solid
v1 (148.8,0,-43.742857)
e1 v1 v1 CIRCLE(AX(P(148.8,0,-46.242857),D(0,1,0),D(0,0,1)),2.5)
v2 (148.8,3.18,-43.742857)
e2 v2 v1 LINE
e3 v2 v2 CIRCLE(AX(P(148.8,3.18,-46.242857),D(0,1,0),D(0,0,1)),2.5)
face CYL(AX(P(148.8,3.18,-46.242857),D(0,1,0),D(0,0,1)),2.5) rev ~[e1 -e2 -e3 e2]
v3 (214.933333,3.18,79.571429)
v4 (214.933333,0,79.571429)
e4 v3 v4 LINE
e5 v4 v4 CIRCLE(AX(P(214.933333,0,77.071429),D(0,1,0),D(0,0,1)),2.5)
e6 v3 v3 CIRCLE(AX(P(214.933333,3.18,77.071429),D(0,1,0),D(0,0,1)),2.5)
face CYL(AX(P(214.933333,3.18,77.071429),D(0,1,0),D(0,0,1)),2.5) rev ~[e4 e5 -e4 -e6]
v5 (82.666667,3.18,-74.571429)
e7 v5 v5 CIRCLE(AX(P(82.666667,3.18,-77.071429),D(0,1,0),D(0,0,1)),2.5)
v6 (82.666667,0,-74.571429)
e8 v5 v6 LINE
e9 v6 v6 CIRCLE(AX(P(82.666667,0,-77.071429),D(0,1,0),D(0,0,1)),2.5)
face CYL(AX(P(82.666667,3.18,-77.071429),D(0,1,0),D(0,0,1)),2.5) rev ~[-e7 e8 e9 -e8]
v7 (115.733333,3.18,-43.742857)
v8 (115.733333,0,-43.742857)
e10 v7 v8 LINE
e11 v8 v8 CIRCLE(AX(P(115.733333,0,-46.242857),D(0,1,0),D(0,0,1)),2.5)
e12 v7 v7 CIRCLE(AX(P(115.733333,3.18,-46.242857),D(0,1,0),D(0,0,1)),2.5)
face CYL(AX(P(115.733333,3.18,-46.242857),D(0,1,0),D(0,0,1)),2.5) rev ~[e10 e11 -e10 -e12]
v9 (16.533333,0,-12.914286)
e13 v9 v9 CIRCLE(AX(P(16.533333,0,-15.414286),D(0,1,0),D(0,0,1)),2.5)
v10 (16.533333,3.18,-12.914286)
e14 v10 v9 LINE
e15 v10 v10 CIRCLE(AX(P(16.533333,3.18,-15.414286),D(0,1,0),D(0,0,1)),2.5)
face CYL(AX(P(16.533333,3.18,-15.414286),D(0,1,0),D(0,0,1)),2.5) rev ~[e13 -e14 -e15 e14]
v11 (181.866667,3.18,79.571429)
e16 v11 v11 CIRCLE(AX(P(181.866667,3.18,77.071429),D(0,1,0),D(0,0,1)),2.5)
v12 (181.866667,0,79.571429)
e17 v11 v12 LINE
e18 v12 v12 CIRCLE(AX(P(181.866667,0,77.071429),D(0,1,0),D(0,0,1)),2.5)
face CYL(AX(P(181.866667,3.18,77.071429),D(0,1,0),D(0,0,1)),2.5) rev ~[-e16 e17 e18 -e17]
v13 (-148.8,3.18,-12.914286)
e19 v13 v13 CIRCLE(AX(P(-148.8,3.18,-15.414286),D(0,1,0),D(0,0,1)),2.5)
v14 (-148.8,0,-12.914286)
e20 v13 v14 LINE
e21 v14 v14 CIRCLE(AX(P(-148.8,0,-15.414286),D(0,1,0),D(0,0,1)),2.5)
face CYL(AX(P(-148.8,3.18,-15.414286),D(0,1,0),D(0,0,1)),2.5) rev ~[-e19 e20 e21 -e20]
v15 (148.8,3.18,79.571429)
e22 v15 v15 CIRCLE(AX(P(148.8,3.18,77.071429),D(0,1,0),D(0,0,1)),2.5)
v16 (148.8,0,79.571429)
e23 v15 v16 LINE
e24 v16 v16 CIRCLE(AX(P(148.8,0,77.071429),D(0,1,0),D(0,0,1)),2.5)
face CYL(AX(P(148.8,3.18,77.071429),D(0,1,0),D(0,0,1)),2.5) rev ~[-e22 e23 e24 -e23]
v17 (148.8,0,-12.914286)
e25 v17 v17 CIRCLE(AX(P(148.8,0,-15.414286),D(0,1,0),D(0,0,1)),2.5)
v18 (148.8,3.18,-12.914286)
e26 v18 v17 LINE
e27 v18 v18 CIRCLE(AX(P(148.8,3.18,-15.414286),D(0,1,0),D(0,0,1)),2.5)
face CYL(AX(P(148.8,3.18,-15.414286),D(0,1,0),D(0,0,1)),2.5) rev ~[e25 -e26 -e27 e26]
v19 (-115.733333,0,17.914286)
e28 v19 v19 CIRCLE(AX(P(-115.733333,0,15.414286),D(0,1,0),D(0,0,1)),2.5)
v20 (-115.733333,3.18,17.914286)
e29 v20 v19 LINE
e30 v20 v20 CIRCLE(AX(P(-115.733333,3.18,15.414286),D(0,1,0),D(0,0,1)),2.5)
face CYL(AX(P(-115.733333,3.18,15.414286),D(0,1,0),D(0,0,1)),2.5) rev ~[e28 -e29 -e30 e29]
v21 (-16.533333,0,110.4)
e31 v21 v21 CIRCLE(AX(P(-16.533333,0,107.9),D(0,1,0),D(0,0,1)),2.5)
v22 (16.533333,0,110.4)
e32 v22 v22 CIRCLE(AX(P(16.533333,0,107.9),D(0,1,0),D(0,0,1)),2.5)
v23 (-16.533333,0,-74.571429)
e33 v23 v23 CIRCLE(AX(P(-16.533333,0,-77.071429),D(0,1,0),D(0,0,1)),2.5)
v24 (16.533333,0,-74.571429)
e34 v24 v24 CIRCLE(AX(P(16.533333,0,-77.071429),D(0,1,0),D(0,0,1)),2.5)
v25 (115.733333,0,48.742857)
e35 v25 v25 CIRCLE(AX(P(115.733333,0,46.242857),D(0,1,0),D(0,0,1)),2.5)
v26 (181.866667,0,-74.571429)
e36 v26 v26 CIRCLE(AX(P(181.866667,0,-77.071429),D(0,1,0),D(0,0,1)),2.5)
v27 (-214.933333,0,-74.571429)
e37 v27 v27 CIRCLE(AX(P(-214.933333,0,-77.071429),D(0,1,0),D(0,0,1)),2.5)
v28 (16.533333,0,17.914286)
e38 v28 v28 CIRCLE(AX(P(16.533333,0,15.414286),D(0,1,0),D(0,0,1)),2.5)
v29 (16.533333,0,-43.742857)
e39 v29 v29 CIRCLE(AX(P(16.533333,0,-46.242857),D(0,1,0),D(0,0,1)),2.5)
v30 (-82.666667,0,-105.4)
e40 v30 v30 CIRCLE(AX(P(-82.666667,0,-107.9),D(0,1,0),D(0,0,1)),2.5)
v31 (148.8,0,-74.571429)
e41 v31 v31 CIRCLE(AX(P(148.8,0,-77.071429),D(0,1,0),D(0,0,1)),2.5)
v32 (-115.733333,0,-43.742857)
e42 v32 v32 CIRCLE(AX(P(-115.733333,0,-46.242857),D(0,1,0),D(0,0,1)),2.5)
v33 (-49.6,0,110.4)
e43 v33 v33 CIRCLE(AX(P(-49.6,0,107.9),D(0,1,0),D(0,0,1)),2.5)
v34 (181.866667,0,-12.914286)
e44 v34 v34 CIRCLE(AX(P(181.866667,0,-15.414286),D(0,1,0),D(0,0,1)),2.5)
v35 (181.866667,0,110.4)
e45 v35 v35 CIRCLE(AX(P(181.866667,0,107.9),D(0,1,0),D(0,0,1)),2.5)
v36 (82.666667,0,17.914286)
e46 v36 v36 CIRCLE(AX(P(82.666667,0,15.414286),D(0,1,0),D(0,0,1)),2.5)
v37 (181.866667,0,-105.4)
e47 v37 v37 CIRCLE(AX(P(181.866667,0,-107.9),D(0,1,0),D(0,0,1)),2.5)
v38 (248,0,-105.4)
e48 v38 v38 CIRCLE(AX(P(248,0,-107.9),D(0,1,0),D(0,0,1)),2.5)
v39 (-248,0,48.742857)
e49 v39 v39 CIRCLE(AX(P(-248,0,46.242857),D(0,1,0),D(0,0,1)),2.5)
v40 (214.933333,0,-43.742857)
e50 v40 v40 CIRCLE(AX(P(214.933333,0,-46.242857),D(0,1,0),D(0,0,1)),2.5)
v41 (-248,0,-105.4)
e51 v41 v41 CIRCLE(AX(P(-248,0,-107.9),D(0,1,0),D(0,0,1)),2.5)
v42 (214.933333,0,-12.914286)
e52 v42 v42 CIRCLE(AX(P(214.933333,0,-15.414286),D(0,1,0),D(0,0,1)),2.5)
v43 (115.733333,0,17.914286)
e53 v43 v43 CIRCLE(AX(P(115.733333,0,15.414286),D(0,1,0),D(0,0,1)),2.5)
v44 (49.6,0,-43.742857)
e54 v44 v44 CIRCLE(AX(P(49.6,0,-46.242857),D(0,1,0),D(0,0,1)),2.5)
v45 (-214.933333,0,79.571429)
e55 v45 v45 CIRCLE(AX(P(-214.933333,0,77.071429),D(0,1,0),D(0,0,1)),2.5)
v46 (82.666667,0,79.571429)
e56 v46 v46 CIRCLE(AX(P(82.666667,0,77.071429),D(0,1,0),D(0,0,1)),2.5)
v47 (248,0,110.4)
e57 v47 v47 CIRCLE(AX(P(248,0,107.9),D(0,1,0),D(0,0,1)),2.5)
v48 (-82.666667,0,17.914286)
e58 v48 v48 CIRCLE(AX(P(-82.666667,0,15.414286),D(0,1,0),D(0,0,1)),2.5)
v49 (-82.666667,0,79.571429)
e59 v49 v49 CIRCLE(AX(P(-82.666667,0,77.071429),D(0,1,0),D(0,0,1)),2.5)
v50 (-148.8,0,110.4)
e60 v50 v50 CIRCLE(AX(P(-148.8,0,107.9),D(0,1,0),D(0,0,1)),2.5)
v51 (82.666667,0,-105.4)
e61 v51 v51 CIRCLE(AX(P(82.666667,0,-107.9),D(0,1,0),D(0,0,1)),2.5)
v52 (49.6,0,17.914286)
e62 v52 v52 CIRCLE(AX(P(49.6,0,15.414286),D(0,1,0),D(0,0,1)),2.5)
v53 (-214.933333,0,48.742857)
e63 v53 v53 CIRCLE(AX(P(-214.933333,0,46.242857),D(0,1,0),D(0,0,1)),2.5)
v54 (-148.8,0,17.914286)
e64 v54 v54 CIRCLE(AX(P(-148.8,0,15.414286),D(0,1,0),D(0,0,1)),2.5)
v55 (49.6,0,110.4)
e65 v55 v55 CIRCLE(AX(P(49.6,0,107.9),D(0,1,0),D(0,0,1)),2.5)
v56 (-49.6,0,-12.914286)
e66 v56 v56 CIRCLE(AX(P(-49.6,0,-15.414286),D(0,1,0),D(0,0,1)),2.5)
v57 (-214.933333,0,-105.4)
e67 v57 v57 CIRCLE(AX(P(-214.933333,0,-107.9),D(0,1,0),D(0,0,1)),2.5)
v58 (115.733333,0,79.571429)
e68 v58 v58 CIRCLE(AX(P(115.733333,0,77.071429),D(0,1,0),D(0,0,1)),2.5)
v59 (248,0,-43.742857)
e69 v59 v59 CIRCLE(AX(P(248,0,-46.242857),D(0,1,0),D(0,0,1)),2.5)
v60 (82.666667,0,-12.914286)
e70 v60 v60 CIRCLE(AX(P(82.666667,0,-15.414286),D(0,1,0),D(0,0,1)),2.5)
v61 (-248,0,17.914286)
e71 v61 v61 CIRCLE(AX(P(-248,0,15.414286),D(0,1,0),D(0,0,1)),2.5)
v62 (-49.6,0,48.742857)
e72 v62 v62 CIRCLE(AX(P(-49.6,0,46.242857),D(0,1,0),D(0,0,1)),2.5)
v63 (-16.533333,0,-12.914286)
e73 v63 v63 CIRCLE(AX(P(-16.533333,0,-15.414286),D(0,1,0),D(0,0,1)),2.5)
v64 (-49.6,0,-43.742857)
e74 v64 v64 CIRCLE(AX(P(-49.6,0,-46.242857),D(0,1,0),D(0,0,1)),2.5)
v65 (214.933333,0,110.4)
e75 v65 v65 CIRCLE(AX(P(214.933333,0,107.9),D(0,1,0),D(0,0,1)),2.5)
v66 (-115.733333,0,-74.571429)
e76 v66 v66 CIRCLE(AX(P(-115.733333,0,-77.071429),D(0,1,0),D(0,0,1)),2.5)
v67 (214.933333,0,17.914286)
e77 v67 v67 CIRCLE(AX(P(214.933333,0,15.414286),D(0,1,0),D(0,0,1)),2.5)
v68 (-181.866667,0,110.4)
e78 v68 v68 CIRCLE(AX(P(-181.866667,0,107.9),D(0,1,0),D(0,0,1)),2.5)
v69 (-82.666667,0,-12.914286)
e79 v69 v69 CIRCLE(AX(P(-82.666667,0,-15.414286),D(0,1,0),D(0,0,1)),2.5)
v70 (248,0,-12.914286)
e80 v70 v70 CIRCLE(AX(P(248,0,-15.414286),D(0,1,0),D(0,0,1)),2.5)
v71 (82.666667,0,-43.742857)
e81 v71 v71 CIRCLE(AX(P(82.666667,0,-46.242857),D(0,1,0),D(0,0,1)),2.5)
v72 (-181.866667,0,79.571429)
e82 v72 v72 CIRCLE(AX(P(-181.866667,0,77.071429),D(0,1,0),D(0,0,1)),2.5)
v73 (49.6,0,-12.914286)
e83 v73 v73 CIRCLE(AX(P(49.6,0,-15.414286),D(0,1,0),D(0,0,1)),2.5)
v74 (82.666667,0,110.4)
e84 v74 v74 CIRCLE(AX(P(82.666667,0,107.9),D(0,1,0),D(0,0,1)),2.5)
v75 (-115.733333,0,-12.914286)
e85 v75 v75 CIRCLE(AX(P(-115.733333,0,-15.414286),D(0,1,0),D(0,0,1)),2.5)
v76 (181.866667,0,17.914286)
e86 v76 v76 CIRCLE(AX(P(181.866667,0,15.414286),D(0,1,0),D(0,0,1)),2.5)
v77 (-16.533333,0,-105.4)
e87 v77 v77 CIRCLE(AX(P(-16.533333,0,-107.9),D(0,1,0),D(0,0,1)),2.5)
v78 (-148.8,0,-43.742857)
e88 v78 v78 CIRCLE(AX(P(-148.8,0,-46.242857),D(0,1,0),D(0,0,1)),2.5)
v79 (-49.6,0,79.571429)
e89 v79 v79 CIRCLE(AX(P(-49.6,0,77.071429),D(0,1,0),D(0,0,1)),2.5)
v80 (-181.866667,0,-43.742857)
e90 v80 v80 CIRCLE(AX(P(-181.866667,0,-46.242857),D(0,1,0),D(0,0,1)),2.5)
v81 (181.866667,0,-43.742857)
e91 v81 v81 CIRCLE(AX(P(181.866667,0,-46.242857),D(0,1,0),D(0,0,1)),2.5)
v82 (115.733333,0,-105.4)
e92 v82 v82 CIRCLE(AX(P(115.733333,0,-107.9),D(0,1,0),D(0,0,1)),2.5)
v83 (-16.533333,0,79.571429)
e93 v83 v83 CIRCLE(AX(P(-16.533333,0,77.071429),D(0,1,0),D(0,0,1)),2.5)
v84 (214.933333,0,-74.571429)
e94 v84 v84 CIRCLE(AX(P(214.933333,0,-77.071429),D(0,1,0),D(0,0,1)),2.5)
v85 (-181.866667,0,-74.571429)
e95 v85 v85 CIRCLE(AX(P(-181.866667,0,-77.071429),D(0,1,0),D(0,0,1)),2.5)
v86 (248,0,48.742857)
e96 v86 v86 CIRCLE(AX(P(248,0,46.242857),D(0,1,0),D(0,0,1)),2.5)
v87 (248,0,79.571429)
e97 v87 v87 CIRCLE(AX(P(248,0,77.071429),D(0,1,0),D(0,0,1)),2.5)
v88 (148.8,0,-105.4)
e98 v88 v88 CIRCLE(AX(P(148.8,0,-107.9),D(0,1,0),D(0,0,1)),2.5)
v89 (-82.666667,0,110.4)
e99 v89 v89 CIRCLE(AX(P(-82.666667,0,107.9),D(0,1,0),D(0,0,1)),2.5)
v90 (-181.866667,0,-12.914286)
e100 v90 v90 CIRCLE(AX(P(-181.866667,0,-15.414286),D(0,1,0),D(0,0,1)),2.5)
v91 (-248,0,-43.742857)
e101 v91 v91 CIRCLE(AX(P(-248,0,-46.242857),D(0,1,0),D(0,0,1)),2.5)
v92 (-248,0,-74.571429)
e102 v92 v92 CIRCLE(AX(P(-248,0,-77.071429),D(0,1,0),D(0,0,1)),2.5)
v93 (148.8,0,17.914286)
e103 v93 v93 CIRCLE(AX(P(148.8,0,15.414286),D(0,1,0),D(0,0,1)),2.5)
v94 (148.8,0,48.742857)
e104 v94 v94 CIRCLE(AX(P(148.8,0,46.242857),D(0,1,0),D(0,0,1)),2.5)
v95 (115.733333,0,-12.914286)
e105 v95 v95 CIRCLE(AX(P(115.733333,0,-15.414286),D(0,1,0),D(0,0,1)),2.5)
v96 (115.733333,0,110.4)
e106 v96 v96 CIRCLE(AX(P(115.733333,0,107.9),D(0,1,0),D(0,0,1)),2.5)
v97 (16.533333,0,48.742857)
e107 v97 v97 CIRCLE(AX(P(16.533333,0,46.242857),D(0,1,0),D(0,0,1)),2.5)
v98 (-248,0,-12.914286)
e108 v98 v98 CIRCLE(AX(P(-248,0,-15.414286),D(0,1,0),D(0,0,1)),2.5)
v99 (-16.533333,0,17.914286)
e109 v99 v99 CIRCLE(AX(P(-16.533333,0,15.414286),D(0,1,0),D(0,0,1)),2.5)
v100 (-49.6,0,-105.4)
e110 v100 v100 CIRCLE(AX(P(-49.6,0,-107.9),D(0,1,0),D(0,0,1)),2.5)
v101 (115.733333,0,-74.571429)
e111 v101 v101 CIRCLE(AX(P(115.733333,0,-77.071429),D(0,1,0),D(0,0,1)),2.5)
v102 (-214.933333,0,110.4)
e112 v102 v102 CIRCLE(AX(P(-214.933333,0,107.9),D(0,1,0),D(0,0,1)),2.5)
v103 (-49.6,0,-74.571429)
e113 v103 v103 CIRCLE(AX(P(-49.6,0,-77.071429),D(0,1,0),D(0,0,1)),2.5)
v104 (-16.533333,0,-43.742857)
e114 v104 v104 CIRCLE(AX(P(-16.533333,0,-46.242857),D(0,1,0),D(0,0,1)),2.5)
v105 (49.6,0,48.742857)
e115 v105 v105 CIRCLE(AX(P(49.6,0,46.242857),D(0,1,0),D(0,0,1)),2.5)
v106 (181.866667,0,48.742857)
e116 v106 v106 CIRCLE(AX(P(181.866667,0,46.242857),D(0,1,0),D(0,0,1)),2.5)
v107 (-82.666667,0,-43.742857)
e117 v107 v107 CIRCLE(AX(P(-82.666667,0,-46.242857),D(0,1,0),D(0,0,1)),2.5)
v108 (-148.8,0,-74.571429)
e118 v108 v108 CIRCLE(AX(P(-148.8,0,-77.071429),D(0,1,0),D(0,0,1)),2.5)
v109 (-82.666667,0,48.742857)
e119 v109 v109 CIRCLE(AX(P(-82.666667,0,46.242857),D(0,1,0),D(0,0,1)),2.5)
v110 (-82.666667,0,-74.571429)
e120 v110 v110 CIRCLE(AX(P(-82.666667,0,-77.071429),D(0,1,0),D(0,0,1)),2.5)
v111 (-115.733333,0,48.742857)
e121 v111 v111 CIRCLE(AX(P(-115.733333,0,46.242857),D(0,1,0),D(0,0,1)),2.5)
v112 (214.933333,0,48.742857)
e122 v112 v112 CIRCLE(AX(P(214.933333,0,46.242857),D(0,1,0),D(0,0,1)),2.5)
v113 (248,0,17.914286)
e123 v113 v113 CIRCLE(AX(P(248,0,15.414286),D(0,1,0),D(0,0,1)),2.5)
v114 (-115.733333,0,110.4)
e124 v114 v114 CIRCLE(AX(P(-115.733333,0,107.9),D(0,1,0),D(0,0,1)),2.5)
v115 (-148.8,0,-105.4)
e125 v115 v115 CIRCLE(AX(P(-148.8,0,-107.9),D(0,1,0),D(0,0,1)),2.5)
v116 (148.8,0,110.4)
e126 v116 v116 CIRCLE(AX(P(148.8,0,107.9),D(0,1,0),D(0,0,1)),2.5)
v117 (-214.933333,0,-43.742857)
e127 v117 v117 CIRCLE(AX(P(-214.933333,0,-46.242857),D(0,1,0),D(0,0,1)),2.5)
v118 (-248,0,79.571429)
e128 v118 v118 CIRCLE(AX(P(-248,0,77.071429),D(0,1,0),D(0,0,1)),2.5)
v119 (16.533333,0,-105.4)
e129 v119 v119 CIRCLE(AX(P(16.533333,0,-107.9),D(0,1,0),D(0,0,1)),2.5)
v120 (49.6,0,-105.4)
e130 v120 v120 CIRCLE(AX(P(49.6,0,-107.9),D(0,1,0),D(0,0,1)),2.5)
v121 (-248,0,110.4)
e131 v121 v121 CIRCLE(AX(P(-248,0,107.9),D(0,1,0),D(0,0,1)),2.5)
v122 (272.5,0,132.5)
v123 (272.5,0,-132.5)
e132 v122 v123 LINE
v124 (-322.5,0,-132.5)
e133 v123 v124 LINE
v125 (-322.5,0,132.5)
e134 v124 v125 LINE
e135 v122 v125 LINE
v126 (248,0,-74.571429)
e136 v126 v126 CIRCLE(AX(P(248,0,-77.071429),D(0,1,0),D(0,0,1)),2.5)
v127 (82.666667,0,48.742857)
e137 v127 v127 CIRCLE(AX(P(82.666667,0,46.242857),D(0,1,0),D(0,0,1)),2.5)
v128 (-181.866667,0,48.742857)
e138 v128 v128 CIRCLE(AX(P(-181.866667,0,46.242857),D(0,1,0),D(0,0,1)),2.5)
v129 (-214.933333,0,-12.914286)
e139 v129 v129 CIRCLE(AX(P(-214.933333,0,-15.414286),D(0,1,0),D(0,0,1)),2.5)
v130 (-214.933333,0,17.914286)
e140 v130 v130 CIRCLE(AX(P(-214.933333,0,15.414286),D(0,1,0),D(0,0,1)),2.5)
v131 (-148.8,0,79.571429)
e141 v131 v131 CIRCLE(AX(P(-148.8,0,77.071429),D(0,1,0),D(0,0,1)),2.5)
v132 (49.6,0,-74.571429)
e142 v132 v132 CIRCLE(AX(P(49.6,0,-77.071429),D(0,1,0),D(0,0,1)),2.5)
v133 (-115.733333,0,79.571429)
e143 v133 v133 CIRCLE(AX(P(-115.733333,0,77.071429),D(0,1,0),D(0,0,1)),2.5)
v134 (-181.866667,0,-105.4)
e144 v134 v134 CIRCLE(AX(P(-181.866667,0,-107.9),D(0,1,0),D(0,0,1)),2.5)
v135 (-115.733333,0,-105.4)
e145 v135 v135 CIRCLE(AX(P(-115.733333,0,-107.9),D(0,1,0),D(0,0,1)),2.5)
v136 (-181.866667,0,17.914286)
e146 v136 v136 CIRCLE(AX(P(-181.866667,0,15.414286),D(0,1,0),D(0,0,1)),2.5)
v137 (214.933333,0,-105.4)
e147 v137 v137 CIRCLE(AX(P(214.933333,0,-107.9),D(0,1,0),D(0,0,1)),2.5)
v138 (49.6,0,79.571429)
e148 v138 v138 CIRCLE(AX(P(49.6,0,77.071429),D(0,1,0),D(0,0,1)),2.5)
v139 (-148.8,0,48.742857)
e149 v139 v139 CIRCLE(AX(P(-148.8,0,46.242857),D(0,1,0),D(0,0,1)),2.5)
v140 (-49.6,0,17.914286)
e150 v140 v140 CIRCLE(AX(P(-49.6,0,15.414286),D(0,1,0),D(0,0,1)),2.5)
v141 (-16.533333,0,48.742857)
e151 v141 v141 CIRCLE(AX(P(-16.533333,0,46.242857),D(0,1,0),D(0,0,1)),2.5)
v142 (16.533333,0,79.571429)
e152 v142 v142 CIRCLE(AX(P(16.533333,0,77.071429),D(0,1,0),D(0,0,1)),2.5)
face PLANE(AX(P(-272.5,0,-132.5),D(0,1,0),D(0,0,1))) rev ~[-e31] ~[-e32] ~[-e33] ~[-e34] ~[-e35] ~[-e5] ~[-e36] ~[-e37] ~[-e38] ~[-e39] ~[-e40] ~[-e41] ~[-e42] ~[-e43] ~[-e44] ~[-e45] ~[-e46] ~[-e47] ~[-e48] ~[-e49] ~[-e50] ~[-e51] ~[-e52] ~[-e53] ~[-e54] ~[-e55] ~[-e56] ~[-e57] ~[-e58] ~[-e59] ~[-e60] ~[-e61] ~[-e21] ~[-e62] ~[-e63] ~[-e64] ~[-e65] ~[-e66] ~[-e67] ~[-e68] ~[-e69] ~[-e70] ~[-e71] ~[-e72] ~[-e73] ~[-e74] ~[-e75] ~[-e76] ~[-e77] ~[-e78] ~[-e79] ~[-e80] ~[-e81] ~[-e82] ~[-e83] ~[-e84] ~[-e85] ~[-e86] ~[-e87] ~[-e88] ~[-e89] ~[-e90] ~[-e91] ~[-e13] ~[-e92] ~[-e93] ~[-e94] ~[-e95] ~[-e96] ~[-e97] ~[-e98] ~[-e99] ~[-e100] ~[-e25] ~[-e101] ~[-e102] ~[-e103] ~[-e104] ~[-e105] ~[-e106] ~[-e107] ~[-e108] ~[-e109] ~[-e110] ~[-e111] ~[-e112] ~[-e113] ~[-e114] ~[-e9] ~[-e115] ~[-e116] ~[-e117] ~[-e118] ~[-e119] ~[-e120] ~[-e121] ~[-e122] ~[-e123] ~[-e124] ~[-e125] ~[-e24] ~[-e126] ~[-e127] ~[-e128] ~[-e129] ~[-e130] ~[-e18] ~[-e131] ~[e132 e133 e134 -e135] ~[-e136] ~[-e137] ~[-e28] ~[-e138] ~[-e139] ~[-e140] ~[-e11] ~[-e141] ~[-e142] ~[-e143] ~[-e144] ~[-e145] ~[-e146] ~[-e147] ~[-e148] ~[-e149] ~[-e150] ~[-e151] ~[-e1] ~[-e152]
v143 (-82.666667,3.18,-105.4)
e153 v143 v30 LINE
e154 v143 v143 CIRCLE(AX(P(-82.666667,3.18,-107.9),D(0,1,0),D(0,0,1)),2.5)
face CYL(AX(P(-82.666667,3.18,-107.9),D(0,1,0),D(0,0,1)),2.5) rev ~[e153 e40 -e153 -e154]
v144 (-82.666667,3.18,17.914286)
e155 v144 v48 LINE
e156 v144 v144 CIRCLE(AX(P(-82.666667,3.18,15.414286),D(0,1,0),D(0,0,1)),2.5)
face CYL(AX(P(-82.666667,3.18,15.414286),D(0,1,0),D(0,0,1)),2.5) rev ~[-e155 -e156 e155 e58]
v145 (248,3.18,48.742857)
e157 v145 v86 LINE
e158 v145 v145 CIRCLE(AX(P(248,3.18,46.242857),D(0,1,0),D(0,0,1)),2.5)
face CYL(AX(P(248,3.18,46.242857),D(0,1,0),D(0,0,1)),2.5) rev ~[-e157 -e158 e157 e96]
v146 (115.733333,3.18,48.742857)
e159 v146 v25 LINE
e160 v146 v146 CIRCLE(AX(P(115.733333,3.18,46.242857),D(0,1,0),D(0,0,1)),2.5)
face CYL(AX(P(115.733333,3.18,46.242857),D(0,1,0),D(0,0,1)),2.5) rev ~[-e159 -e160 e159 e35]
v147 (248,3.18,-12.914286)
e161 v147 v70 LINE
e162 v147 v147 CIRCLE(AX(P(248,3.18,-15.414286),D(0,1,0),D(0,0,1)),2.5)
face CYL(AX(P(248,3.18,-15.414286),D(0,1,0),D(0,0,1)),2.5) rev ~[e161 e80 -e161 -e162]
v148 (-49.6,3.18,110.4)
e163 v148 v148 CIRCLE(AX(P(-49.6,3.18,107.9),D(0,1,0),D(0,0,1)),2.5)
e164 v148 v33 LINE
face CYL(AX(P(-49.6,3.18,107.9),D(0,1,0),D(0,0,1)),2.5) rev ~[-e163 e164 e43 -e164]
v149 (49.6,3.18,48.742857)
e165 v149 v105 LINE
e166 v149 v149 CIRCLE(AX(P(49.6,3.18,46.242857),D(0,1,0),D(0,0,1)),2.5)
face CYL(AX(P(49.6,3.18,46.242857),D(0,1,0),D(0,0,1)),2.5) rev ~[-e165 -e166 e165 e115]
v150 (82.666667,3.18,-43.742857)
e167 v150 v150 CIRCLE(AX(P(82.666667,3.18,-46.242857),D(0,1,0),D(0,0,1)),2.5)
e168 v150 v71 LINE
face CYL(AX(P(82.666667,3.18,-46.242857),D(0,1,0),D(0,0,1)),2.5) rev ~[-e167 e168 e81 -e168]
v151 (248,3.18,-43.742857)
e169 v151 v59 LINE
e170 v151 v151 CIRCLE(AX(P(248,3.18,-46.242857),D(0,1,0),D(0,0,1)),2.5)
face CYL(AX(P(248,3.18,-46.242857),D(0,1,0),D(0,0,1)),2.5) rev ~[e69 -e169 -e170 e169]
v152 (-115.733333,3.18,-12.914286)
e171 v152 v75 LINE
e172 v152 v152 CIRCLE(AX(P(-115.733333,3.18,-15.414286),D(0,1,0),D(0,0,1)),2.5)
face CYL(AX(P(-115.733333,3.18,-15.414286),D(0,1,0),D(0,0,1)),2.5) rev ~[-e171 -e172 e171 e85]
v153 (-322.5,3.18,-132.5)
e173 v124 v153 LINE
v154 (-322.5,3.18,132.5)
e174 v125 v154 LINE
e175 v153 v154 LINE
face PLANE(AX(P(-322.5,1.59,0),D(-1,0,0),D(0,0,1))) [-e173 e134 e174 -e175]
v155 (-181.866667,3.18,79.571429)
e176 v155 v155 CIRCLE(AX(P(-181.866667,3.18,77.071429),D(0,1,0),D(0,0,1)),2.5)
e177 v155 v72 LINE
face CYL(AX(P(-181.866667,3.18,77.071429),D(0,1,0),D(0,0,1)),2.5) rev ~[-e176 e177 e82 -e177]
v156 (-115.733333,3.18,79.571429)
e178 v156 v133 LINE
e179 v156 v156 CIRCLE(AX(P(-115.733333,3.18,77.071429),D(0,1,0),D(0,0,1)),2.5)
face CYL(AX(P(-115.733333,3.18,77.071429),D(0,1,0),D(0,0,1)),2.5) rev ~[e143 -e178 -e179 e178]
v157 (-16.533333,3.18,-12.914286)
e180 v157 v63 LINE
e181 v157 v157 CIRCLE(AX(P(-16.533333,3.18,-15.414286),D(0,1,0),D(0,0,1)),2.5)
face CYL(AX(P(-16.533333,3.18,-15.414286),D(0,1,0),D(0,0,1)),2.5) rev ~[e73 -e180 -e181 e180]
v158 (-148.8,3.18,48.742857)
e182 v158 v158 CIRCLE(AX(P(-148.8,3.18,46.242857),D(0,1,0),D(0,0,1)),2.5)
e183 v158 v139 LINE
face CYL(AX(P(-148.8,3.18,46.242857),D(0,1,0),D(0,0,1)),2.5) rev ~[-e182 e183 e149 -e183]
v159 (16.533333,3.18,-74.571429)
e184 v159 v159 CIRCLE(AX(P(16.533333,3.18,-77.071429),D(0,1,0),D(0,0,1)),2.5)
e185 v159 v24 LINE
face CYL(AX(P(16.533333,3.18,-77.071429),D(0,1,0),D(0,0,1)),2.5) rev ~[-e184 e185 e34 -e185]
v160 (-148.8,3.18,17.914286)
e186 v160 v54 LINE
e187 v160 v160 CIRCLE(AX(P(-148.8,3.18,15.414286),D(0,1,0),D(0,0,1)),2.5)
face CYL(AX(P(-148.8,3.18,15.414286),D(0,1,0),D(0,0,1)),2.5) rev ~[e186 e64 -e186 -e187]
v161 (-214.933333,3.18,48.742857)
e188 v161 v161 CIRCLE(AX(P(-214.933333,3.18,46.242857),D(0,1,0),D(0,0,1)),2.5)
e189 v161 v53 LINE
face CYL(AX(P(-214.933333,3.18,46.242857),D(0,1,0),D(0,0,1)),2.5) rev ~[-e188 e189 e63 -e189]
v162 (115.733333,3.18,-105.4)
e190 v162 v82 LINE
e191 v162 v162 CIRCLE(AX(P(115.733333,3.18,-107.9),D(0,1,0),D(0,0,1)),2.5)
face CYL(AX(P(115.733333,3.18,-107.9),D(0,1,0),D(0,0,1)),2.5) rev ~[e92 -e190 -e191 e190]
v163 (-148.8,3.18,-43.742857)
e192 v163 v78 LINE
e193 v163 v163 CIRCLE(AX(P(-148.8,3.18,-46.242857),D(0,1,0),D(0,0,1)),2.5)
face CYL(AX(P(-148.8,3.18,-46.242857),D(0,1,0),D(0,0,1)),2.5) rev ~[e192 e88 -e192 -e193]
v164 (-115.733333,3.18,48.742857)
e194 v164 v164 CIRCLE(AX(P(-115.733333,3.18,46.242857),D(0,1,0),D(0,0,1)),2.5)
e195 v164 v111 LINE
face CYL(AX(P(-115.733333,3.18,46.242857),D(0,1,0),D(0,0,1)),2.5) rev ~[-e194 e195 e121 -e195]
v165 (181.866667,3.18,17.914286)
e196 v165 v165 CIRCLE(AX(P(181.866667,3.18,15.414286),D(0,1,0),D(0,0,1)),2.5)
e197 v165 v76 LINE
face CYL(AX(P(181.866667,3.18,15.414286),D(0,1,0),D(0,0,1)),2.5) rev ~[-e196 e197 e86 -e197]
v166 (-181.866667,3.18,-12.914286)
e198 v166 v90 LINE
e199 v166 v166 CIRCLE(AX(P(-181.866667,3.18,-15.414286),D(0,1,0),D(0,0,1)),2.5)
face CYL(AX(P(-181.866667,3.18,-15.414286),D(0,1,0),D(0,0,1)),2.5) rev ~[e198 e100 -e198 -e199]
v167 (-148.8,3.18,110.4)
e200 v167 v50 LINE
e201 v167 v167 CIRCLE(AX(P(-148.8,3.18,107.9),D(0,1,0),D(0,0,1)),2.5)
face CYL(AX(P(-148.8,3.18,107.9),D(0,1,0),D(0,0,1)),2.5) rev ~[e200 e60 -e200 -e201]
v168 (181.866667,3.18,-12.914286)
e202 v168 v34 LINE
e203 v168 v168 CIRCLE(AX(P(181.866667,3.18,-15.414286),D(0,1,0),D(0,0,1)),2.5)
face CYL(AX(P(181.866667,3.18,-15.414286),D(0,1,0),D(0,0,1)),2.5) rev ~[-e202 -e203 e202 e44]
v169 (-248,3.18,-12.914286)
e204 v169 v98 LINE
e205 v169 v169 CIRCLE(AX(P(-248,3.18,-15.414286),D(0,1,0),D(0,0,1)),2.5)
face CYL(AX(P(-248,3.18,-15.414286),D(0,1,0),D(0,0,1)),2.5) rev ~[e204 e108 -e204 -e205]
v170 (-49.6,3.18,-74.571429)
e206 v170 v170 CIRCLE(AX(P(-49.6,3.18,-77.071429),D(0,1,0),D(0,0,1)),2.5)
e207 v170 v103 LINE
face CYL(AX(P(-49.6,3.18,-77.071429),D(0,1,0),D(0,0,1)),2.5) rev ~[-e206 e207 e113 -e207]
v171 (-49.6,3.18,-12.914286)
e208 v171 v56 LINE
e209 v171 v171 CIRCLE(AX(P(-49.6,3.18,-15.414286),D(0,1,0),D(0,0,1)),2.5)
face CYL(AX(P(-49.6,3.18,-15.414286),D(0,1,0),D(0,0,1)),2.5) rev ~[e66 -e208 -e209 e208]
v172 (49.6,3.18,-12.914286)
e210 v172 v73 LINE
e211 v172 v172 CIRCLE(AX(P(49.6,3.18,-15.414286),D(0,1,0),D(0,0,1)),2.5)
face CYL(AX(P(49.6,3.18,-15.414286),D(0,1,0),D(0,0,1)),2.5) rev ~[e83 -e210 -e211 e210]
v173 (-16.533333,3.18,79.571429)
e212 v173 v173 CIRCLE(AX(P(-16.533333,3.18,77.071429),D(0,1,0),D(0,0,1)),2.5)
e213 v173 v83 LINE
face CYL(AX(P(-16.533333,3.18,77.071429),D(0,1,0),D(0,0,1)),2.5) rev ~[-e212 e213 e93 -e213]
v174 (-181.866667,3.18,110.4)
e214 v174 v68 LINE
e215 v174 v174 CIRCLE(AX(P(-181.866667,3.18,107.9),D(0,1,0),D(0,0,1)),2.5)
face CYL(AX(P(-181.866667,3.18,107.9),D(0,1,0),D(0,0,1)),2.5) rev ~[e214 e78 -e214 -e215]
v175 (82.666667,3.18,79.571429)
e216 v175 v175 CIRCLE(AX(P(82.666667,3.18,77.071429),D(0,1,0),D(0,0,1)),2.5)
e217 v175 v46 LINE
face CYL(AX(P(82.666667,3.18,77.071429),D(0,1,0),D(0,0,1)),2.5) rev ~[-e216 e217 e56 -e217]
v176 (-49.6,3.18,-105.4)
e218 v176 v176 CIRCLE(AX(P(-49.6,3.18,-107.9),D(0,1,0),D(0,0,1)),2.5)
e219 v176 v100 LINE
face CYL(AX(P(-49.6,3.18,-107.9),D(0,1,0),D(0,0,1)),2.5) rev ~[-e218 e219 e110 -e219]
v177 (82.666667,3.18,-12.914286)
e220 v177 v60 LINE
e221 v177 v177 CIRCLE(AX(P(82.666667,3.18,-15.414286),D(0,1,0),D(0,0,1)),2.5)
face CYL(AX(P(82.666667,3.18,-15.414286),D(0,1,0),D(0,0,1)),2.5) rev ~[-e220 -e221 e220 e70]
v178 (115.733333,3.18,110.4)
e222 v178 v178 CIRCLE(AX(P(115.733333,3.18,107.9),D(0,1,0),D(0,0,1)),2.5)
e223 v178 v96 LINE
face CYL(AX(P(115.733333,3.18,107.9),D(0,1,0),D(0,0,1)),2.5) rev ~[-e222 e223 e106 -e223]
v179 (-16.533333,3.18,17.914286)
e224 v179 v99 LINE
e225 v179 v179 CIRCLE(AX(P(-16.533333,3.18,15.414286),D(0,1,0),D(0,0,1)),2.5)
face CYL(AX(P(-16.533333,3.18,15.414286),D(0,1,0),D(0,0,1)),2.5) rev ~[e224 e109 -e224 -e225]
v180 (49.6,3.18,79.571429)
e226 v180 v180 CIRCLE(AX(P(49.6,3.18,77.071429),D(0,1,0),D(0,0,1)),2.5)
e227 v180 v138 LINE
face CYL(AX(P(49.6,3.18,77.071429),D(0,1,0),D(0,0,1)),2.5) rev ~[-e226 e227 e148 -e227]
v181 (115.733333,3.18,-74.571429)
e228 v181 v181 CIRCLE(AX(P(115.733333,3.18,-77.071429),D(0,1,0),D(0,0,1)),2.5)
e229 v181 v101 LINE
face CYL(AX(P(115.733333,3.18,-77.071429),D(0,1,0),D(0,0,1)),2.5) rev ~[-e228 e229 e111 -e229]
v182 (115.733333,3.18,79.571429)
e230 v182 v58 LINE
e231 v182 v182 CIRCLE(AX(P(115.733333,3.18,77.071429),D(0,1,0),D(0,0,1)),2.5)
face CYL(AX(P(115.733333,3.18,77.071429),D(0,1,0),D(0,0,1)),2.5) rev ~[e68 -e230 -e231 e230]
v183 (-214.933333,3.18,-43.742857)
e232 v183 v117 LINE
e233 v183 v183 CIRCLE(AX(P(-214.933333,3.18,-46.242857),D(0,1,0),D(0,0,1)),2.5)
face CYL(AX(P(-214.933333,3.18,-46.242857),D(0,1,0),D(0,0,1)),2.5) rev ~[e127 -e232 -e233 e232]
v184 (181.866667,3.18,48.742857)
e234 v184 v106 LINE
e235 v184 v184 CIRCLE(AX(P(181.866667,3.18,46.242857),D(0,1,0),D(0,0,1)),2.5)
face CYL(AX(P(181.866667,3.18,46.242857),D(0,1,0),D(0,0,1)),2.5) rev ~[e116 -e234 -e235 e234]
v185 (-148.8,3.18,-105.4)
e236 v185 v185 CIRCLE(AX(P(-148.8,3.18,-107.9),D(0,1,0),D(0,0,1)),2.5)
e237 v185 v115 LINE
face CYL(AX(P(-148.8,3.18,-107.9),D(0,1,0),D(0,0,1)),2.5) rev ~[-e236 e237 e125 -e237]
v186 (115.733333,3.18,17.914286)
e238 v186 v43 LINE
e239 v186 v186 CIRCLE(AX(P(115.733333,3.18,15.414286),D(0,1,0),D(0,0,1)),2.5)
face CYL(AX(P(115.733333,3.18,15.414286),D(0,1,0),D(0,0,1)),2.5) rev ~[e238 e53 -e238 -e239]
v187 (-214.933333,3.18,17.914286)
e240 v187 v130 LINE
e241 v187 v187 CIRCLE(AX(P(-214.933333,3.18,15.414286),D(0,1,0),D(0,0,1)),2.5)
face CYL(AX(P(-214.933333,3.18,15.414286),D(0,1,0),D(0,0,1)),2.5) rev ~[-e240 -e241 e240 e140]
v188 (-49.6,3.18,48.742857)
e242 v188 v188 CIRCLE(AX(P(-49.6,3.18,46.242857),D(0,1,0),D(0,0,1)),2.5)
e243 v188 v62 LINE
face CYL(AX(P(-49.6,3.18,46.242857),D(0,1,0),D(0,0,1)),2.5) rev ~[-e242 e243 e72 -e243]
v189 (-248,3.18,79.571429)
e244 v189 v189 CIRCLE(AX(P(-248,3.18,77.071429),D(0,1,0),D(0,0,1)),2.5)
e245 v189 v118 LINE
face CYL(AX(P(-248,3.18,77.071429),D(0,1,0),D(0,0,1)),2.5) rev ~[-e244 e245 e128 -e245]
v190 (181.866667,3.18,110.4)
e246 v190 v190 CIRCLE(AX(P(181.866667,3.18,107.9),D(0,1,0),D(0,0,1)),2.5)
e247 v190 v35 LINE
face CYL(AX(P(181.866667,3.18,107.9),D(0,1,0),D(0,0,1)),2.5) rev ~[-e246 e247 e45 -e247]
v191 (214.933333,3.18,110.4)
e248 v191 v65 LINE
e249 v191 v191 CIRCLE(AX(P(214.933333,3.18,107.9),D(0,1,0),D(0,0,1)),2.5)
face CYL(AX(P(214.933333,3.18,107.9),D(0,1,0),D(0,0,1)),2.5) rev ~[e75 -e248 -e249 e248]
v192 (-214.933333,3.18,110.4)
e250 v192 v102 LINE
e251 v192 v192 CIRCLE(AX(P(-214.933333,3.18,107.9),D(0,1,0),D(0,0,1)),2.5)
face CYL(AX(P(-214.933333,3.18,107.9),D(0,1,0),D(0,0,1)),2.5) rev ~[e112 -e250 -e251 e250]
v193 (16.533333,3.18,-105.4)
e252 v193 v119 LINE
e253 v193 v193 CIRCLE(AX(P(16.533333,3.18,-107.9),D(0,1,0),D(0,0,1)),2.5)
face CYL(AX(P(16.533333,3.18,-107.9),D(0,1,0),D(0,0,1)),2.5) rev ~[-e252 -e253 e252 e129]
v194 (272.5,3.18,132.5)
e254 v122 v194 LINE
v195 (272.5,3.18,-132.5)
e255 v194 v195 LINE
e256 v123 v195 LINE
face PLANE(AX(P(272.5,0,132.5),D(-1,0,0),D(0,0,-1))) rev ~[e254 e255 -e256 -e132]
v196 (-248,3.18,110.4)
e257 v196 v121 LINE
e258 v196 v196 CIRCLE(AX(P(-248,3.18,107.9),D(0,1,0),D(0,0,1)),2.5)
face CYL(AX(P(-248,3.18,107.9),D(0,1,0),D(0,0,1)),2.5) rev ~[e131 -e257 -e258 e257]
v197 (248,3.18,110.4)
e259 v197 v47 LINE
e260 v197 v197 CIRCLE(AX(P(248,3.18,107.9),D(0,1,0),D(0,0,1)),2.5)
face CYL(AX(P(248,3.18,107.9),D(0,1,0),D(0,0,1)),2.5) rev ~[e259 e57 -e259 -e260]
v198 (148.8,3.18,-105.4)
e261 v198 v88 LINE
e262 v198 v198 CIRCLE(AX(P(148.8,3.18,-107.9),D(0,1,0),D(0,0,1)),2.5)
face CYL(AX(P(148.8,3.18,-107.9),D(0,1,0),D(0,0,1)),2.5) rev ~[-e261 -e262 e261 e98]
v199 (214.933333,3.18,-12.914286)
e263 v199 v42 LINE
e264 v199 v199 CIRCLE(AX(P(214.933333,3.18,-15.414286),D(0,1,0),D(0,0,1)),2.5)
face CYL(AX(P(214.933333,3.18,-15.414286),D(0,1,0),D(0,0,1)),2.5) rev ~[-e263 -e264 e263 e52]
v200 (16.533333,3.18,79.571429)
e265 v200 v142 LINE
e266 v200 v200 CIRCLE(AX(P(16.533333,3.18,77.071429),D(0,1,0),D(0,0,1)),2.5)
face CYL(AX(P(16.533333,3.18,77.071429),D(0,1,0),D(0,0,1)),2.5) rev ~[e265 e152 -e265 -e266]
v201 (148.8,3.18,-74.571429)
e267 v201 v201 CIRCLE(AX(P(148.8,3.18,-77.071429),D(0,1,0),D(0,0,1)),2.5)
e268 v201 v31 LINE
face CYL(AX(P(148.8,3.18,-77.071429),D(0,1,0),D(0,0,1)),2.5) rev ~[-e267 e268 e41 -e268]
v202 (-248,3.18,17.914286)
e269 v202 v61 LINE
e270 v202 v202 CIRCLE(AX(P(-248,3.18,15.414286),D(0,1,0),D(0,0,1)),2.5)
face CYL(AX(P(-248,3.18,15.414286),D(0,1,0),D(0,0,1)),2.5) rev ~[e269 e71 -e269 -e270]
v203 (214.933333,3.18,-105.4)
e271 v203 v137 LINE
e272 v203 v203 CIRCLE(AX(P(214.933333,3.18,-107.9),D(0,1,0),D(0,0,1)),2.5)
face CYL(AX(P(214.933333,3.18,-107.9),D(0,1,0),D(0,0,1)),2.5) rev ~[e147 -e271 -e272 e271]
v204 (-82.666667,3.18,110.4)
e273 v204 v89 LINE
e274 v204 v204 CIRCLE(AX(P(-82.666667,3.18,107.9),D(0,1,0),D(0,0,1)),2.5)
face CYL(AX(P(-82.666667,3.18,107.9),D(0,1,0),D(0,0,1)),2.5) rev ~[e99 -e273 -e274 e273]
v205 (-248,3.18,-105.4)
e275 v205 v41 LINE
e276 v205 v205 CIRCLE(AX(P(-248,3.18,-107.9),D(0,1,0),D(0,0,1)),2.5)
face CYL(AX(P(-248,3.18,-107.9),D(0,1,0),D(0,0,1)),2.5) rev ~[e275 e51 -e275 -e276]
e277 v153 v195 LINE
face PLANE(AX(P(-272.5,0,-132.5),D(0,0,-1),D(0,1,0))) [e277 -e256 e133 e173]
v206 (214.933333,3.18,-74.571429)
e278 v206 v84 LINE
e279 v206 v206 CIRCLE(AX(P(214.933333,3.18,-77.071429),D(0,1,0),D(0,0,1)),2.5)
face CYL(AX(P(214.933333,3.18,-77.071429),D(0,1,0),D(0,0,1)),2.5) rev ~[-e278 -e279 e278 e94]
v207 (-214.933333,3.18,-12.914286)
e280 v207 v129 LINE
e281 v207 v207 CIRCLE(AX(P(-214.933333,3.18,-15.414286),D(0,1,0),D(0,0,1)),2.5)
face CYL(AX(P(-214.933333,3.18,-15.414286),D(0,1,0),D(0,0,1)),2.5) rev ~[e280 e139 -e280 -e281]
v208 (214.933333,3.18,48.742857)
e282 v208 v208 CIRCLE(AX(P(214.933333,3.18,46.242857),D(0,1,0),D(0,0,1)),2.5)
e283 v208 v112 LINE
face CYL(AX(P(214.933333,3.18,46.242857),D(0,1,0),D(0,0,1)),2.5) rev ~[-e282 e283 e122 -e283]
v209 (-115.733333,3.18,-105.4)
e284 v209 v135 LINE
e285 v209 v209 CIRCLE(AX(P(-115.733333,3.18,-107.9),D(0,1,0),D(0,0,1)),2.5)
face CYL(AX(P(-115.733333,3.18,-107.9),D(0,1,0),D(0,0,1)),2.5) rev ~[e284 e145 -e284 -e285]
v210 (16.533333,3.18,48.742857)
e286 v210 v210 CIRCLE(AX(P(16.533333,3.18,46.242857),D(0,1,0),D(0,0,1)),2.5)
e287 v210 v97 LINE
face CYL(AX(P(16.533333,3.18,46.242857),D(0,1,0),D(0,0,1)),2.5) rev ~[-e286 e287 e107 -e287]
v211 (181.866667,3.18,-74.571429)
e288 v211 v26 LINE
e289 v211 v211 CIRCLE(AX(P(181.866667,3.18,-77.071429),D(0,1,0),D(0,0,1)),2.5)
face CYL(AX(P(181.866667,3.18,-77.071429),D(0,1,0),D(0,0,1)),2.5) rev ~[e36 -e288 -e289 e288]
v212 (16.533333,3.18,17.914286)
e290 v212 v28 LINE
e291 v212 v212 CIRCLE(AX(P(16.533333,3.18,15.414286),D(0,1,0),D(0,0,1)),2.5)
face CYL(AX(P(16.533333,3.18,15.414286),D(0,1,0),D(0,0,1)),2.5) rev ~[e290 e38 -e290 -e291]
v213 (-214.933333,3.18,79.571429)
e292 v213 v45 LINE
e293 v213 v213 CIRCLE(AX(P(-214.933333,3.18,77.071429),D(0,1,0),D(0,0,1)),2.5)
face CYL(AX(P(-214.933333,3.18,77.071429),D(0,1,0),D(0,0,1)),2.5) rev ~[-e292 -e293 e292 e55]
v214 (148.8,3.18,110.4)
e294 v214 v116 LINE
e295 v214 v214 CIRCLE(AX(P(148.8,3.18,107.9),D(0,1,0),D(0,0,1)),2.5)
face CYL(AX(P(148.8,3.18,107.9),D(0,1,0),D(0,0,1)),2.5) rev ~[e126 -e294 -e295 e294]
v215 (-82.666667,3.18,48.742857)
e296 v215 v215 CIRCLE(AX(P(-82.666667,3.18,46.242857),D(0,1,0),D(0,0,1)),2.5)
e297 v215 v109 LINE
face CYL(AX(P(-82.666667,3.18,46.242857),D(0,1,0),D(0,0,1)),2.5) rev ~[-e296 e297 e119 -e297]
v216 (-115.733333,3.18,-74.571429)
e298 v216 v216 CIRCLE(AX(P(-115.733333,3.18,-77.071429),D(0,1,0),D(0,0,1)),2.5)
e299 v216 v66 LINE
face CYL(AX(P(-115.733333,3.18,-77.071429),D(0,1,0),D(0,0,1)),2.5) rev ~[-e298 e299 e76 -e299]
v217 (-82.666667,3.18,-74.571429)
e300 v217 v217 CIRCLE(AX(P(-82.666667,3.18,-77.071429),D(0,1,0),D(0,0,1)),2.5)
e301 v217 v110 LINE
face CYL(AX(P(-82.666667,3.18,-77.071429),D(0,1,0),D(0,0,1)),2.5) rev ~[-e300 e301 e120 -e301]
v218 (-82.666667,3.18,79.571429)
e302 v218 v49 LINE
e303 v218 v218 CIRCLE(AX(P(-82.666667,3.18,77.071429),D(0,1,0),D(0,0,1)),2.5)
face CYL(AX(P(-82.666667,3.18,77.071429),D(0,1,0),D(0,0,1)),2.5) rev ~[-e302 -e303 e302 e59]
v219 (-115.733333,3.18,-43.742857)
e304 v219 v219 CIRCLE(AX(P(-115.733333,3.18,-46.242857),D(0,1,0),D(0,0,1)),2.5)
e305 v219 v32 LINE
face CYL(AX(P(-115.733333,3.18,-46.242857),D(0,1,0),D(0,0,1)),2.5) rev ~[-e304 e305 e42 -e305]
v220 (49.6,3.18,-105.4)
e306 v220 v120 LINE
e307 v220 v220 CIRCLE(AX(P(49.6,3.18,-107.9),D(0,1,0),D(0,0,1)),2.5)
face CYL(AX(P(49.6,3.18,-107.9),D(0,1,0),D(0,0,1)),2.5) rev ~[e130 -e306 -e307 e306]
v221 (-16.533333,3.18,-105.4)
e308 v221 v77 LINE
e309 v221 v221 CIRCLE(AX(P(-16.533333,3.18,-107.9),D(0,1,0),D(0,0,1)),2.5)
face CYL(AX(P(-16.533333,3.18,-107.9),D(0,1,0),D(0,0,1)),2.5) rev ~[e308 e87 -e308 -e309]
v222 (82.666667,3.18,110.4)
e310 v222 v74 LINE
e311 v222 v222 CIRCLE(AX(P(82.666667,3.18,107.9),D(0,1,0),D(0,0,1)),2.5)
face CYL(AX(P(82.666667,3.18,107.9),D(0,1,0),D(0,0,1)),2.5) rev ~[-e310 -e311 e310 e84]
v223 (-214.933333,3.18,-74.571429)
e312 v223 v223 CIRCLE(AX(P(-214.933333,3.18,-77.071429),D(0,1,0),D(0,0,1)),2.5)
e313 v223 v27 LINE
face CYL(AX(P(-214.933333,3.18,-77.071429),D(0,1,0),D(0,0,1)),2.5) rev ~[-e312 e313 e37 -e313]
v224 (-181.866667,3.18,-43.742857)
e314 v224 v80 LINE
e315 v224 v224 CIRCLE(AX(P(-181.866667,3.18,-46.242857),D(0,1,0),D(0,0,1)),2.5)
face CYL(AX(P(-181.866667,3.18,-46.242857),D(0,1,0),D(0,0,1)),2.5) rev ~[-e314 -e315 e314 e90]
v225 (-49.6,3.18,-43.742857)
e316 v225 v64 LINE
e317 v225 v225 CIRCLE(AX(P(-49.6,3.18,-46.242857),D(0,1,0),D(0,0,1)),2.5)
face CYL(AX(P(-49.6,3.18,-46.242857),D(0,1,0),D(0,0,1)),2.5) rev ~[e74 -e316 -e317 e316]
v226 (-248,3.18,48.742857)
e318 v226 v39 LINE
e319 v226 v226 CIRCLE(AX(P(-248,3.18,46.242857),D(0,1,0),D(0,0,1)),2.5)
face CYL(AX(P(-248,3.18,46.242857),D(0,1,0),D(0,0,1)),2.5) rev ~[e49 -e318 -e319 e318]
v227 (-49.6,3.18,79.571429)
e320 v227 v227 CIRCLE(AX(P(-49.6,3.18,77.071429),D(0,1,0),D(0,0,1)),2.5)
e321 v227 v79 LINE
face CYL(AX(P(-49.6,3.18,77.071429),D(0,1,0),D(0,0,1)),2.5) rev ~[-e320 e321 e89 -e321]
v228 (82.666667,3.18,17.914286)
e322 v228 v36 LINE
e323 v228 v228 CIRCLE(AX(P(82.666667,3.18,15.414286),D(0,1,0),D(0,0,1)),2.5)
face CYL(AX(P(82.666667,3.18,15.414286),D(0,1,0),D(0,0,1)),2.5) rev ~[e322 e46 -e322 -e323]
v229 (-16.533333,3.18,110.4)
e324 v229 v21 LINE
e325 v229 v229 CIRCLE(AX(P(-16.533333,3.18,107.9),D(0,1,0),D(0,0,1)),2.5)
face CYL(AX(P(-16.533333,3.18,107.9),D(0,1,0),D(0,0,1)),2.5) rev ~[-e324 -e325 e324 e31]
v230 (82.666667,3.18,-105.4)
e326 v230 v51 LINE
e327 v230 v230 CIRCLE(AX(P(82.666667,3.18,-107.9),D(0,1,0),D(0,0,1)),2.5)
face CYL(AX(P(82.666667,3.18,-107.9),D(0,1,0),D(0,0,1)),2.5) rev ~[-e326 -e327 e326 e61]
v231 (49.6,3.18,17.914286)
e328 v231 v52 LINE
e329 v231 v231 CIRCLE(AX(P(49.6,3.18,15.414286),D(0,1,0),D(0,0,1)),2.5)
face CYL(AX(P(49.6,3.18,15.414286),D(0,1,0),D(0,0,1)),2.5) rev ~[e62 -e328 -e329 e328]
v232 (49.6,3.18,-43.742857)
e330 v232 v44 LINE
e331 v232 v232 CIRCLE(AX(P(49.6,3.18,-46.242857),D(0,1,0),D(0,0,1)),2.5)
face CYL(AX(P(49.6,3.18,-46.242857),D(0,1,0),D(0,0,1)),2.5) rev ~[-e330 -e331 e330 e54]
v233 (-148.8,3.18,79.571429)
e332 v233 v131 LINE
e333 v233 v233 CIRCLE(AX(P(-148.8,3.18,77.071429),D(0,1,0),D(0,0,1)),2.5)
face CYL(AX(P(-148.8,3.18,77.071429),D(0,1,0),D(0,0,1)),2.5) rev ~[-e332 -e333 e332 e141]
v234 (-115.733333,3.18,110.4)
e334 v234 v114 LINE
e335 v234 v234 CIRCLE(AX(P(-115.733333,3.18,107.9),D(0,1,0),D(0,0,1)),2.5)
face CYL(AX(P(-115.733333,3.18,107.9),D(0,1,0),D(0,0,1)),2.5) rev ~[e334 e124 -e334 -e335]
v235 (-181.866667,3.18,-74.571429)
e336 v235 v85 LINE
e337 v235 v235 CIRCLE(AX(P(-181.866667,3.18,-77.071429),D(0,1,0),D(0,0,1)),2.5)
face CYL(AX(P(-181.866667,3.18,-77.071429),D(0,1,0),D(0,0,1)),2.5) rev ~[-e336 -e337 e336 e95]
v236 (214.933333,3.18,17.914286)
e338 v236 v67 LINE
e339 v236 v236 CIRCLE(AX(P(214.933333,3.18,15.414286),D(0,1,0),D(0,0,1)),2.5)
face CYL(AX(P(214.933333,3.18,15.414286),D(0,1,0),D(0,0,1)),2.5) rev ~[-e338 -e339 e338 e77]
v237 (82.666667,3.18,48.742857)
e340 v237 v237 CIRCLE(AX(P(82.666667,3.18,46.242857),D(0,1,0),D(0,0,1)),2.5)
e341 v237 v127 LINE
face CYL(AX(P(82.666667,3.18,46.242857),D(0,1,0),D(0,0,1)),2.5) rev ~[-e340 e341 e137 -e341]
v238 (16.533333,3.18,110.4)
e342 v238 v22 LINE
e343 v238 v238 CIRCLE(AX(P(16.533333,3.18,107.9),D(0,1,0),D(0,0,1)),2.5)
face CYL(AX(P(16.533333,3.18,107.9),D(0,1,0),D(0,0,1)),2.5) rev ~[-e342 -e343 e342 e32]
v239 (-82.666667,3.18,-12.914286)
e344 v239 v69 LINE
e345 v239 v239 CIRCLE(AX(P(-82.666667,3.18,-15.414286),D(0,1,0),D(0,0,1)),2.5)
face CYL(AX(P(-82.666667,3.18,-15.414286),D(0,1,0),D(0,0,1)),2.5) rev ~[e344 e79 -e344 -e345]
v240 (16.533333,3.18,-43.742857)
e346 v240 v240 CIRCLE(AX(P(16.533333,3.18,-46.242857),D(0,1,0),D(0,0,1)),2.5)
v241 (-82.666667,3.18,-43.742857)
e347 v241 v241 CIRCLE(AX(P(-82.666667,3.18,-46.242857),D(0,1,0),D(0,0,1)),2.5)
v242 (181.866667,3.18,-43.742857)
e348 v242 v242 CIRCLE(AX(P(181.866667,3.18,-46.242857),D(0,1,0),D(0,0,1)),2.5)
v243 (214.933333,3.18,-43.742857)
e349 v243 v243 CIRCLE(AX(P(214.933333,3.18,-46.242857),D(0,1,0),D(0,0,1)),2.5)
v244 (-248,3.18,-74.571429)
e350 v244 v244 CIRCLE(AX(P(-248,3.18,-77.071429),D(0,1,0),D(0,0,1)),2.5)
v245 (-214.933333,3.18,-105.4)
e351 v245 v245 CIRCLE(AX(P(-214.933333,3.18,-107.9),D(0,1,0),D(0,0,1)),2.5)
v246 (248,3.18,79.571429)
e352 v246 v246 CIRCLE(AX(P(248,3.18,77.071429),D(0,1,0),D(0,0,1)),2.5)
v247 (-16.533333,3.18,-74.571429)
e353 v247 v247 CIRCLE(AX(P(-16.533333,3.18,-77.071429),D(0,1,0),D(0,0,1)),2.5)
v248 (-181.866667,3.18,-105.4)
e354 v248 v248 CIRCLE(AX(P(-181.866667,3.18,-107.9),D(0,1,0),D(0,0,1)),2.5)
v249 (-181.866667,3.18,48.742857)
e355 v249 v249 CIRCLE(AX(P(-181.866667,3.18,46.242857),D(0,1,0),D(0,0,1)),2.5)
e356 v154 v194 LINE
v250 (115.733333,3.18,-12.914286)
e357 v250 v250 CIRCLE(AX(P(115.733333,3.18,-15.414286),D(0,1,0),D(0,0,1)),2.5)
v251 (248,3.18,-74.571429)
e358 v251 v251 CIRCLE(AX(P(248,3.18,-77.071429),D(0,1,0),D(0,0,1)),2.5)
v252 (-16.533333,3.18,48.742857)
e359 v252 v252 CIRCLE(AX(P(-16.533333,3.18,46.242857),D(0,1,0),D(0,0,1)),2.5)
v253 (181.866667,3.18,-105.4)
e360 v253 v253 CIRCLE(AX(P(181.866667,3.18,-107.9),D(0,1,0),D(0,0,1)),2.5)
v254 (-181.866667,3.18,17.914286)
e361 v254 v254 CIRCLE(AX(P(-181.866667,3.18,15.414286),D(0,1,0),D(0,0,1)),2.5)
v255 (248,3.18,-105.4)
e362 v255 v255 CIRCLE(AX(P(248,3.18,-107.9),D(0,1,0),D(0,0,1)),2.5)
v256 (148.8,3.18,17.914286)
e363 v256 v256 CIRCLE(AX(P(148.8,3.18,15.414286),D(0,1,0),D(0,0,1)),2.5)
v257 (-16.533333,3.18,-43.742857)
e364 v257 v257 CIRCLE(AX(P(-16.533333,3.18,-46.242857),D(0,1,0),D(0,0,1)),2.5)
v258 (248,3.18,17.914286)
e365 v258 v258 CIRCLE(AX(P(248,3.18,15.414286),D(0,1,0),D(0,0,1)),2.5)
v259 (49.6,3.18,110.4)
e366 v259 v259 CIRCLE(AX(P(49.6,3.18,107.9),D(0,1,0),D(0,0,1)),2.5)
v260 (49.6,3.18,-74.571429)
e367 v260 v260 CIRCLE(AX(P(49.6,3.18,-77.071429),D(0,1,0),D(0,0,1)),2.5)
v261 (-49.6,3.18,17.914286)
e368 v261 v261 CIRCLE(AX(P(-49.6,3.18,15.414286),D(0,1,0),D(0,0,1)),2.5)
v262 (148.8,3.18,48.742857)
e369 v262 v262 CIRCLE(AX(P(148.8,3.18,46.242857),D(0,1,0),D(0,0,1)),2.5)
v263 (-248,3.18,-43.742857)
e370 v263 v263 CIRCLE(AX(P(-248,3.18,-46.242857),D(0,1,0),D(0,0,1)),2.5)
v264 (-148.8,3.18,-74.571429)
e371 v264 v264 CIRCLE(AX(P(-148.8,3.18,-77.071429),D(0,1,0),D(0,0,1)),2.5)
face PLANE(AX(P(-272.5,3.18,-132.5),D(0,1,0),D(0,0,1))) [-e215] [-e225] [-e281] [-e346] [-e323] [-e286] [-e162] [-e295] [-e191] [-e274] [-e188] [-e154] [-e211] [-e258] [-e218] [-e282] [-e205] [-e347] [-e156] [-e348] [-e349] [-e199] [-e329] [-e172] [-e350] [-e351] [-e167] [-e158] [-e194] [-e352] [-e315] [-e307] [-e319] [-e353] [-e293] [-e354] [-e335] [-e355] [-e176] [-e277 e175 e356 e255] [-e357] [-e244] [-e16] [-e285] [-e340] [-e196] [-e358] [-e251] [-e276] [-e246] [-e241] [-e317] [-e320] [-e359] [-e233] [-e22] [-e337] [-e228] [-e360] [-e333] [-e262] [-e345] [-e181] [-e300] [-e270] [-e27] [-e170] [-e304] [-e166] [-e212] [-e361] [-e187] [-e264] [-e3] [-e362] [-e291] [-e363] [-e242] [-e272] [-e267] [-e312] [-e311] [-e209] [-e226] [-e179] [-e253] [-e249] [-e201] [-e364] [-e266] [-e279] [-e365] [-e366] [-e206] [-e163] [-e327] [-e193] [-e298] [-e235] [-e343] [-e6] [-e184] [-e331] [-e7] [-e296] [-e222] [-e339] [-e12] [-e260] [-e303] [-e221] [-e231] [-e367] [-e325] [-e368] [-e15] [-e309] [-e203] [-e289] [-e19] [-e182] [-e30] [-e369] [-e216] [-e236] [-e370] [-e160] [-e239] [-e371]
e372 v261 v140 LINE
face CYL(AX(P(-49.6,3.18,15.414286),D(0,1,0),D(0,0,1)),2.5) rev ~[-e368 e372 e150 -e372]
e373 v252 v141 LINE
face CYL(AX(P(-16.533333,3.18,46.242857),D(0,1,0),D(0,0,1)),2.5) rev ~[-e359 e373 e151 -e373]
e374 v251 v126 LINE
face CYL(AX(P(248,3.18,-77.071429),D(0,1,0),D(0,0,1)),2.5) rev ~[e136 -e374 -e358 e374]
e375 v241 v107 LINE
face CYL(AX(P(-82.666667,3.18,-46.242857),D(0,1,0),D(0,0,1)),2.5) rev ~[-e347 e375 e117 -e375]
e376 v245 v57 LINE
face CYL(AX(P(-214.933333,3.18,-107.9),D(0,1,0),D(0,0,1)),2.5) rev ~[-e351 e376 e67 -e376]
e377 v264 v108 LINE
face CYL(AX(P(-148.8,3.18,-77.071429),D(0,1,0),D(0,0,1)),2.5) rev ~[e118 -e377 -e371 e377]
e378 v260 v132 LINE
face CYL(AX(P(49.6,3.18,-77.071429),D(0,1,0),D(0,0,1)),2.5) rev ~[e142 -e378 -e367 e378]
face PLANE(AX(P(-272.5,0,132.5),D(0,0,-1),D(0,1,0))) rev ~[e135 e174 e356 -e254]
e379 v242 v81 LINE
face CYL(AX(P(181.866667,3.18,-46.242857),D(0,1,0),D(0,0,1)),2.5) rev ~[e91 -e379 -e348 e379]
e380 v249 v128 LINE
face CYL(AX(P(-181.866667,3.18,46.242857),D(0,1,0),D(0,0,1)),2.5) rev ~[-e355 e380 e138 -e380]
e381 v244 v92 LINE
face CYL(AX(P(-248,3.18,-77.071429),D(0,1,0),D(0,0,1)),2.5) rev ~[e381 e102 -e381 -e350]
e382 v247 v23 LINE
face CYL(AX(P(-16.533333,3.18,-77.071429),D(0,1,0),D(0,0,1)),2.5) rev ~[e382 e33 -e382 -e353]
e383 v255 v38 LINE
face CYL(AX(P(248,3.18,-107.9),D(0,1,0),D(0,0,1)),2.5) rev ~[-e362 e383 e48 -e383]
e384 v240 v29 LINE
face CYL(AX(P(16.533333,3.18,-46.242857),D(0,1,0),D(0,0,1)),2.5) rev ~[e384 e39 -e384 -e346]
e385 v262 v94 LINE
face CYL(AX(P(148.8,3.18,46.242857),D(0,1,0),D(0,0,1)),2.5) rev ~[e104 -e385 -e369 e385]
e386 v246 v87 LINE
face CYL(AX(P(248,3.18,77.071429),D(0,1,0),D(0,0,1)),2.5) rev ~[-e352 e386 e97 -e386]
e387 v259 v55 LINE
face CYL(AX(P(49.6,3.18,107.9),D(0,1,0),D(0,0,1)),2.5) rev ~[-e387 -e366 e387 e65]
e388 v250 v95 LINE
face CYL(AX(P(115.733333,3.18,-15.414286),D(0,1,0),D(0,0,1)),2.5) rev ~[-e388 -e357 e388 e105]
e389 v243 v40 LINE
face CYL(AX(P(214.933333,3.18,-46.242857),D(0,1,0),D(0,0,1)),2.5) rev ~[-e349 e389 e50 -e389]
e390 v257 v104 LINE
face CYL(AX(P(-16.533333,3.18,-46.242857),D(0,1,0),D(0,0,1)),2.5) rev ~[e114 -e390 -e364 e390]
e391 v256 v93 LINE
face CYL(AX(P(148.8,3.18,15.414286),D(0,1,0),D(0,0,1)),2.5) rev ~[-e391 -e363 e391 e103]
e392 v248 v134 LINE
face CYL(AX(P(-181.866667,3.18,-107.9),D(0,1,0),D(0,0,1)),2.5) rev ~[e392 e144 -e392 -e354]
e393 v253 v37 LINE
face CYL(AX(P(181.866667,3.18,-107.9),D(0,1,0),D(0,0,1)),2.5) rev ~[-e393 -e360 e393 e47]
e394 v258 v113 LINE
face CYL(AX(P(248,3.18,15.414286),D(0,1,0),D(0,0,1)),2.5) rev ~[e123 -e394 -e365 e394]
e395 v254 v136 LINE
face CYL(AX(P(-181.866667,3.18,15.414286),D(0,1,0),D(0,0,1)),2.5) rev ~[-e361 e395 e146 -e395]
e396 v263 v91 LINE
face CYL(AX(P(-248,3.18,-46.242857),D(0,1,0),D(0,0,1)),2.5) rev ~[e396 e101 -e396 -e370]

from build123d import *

# Parameters (mm, degrees)
SKETCH1_W            = 545
SKETCH1_H            = 265
BOSS_EXTRUDE1_DEPTH  = 3.18
CUT_EXTRUDE1_REACH   = 305.022
SKETCH4_R            = 2.5
LPATTERN1_COUNT      = 16
LPATTERN1_PITCH      = 33.066666667
LPATTERN1_COUNT_DIR2 = 8
LPATTERN1_PITCH_DIR2 = 30.828571429
SKETCH5_W            = 265
SKETCH5_H            = 3.18
BOSS_EXTRUDE2_DEPTH  = 50


with BuildPart() as part:
    # Sketch1 → Boss-Extrude1 (new body)
    with BuildSketch(Plane(origin=(0, 0, 0), x_dir=(1, 0, 0), z_dir=(0, 1, 0))):
        Rectangle(SKETCH1_W, SKETCH1_H)
    extrude(amount=BOSS_EXTRUDE1_DEPTH)

    # Sketch4 → Cut-Extrude1 (cut, up to next)
    with BuildSketch(Plane(origin=(0, 3.18, 0), x_dir=(1, 0, 0), z_dir=(0, 1, 0)), mode=Mode.PRIVATE) as cut_extrude1_sk1:
        with Locations(Location((-248, 107.9, 0), (0, 0, 270))):
            Circle(SKETCH4_R)
    cut_extrude1_tool1 = extrude(cut_extrude1_sk1.sketch, amount=-CUT_EXTRUDE1_REACH, mode=Mode.PRIVATE) & part.part
    cut_extrude1 = cut_extrude1_tool1.solids().sort_by_distance((-248, 3.18, -107.9))[0]
    add(cut_extrude1, mode=Mode.SUBTRACT)

    # LPattern1: Cut-Extrude1 16 × 8
    with Locations(*[(i * LPATTERN1_PITCH, 0, j * LPATTERN1_PITCH_DIR2) for i in range(LPATTERN1_COUNT) for j in range(LPATTERN1_COUNT_DIR2) if (i, j) != (0, 0)]):
        add(cut_extrude1, mode=Mode.SUBTRACT)

    # Sketch5 → Boss-Extrude2 (add)
    with BuildSketch(Plane.ZY.offset(272.5)):
        with Locations((0, 1.59)):
            Rectangle(SKETCH5_W, SKETCH5_H)
    extrude(amount=BOSS_EXTRUDE2_DEPTH)


solid = part.part
